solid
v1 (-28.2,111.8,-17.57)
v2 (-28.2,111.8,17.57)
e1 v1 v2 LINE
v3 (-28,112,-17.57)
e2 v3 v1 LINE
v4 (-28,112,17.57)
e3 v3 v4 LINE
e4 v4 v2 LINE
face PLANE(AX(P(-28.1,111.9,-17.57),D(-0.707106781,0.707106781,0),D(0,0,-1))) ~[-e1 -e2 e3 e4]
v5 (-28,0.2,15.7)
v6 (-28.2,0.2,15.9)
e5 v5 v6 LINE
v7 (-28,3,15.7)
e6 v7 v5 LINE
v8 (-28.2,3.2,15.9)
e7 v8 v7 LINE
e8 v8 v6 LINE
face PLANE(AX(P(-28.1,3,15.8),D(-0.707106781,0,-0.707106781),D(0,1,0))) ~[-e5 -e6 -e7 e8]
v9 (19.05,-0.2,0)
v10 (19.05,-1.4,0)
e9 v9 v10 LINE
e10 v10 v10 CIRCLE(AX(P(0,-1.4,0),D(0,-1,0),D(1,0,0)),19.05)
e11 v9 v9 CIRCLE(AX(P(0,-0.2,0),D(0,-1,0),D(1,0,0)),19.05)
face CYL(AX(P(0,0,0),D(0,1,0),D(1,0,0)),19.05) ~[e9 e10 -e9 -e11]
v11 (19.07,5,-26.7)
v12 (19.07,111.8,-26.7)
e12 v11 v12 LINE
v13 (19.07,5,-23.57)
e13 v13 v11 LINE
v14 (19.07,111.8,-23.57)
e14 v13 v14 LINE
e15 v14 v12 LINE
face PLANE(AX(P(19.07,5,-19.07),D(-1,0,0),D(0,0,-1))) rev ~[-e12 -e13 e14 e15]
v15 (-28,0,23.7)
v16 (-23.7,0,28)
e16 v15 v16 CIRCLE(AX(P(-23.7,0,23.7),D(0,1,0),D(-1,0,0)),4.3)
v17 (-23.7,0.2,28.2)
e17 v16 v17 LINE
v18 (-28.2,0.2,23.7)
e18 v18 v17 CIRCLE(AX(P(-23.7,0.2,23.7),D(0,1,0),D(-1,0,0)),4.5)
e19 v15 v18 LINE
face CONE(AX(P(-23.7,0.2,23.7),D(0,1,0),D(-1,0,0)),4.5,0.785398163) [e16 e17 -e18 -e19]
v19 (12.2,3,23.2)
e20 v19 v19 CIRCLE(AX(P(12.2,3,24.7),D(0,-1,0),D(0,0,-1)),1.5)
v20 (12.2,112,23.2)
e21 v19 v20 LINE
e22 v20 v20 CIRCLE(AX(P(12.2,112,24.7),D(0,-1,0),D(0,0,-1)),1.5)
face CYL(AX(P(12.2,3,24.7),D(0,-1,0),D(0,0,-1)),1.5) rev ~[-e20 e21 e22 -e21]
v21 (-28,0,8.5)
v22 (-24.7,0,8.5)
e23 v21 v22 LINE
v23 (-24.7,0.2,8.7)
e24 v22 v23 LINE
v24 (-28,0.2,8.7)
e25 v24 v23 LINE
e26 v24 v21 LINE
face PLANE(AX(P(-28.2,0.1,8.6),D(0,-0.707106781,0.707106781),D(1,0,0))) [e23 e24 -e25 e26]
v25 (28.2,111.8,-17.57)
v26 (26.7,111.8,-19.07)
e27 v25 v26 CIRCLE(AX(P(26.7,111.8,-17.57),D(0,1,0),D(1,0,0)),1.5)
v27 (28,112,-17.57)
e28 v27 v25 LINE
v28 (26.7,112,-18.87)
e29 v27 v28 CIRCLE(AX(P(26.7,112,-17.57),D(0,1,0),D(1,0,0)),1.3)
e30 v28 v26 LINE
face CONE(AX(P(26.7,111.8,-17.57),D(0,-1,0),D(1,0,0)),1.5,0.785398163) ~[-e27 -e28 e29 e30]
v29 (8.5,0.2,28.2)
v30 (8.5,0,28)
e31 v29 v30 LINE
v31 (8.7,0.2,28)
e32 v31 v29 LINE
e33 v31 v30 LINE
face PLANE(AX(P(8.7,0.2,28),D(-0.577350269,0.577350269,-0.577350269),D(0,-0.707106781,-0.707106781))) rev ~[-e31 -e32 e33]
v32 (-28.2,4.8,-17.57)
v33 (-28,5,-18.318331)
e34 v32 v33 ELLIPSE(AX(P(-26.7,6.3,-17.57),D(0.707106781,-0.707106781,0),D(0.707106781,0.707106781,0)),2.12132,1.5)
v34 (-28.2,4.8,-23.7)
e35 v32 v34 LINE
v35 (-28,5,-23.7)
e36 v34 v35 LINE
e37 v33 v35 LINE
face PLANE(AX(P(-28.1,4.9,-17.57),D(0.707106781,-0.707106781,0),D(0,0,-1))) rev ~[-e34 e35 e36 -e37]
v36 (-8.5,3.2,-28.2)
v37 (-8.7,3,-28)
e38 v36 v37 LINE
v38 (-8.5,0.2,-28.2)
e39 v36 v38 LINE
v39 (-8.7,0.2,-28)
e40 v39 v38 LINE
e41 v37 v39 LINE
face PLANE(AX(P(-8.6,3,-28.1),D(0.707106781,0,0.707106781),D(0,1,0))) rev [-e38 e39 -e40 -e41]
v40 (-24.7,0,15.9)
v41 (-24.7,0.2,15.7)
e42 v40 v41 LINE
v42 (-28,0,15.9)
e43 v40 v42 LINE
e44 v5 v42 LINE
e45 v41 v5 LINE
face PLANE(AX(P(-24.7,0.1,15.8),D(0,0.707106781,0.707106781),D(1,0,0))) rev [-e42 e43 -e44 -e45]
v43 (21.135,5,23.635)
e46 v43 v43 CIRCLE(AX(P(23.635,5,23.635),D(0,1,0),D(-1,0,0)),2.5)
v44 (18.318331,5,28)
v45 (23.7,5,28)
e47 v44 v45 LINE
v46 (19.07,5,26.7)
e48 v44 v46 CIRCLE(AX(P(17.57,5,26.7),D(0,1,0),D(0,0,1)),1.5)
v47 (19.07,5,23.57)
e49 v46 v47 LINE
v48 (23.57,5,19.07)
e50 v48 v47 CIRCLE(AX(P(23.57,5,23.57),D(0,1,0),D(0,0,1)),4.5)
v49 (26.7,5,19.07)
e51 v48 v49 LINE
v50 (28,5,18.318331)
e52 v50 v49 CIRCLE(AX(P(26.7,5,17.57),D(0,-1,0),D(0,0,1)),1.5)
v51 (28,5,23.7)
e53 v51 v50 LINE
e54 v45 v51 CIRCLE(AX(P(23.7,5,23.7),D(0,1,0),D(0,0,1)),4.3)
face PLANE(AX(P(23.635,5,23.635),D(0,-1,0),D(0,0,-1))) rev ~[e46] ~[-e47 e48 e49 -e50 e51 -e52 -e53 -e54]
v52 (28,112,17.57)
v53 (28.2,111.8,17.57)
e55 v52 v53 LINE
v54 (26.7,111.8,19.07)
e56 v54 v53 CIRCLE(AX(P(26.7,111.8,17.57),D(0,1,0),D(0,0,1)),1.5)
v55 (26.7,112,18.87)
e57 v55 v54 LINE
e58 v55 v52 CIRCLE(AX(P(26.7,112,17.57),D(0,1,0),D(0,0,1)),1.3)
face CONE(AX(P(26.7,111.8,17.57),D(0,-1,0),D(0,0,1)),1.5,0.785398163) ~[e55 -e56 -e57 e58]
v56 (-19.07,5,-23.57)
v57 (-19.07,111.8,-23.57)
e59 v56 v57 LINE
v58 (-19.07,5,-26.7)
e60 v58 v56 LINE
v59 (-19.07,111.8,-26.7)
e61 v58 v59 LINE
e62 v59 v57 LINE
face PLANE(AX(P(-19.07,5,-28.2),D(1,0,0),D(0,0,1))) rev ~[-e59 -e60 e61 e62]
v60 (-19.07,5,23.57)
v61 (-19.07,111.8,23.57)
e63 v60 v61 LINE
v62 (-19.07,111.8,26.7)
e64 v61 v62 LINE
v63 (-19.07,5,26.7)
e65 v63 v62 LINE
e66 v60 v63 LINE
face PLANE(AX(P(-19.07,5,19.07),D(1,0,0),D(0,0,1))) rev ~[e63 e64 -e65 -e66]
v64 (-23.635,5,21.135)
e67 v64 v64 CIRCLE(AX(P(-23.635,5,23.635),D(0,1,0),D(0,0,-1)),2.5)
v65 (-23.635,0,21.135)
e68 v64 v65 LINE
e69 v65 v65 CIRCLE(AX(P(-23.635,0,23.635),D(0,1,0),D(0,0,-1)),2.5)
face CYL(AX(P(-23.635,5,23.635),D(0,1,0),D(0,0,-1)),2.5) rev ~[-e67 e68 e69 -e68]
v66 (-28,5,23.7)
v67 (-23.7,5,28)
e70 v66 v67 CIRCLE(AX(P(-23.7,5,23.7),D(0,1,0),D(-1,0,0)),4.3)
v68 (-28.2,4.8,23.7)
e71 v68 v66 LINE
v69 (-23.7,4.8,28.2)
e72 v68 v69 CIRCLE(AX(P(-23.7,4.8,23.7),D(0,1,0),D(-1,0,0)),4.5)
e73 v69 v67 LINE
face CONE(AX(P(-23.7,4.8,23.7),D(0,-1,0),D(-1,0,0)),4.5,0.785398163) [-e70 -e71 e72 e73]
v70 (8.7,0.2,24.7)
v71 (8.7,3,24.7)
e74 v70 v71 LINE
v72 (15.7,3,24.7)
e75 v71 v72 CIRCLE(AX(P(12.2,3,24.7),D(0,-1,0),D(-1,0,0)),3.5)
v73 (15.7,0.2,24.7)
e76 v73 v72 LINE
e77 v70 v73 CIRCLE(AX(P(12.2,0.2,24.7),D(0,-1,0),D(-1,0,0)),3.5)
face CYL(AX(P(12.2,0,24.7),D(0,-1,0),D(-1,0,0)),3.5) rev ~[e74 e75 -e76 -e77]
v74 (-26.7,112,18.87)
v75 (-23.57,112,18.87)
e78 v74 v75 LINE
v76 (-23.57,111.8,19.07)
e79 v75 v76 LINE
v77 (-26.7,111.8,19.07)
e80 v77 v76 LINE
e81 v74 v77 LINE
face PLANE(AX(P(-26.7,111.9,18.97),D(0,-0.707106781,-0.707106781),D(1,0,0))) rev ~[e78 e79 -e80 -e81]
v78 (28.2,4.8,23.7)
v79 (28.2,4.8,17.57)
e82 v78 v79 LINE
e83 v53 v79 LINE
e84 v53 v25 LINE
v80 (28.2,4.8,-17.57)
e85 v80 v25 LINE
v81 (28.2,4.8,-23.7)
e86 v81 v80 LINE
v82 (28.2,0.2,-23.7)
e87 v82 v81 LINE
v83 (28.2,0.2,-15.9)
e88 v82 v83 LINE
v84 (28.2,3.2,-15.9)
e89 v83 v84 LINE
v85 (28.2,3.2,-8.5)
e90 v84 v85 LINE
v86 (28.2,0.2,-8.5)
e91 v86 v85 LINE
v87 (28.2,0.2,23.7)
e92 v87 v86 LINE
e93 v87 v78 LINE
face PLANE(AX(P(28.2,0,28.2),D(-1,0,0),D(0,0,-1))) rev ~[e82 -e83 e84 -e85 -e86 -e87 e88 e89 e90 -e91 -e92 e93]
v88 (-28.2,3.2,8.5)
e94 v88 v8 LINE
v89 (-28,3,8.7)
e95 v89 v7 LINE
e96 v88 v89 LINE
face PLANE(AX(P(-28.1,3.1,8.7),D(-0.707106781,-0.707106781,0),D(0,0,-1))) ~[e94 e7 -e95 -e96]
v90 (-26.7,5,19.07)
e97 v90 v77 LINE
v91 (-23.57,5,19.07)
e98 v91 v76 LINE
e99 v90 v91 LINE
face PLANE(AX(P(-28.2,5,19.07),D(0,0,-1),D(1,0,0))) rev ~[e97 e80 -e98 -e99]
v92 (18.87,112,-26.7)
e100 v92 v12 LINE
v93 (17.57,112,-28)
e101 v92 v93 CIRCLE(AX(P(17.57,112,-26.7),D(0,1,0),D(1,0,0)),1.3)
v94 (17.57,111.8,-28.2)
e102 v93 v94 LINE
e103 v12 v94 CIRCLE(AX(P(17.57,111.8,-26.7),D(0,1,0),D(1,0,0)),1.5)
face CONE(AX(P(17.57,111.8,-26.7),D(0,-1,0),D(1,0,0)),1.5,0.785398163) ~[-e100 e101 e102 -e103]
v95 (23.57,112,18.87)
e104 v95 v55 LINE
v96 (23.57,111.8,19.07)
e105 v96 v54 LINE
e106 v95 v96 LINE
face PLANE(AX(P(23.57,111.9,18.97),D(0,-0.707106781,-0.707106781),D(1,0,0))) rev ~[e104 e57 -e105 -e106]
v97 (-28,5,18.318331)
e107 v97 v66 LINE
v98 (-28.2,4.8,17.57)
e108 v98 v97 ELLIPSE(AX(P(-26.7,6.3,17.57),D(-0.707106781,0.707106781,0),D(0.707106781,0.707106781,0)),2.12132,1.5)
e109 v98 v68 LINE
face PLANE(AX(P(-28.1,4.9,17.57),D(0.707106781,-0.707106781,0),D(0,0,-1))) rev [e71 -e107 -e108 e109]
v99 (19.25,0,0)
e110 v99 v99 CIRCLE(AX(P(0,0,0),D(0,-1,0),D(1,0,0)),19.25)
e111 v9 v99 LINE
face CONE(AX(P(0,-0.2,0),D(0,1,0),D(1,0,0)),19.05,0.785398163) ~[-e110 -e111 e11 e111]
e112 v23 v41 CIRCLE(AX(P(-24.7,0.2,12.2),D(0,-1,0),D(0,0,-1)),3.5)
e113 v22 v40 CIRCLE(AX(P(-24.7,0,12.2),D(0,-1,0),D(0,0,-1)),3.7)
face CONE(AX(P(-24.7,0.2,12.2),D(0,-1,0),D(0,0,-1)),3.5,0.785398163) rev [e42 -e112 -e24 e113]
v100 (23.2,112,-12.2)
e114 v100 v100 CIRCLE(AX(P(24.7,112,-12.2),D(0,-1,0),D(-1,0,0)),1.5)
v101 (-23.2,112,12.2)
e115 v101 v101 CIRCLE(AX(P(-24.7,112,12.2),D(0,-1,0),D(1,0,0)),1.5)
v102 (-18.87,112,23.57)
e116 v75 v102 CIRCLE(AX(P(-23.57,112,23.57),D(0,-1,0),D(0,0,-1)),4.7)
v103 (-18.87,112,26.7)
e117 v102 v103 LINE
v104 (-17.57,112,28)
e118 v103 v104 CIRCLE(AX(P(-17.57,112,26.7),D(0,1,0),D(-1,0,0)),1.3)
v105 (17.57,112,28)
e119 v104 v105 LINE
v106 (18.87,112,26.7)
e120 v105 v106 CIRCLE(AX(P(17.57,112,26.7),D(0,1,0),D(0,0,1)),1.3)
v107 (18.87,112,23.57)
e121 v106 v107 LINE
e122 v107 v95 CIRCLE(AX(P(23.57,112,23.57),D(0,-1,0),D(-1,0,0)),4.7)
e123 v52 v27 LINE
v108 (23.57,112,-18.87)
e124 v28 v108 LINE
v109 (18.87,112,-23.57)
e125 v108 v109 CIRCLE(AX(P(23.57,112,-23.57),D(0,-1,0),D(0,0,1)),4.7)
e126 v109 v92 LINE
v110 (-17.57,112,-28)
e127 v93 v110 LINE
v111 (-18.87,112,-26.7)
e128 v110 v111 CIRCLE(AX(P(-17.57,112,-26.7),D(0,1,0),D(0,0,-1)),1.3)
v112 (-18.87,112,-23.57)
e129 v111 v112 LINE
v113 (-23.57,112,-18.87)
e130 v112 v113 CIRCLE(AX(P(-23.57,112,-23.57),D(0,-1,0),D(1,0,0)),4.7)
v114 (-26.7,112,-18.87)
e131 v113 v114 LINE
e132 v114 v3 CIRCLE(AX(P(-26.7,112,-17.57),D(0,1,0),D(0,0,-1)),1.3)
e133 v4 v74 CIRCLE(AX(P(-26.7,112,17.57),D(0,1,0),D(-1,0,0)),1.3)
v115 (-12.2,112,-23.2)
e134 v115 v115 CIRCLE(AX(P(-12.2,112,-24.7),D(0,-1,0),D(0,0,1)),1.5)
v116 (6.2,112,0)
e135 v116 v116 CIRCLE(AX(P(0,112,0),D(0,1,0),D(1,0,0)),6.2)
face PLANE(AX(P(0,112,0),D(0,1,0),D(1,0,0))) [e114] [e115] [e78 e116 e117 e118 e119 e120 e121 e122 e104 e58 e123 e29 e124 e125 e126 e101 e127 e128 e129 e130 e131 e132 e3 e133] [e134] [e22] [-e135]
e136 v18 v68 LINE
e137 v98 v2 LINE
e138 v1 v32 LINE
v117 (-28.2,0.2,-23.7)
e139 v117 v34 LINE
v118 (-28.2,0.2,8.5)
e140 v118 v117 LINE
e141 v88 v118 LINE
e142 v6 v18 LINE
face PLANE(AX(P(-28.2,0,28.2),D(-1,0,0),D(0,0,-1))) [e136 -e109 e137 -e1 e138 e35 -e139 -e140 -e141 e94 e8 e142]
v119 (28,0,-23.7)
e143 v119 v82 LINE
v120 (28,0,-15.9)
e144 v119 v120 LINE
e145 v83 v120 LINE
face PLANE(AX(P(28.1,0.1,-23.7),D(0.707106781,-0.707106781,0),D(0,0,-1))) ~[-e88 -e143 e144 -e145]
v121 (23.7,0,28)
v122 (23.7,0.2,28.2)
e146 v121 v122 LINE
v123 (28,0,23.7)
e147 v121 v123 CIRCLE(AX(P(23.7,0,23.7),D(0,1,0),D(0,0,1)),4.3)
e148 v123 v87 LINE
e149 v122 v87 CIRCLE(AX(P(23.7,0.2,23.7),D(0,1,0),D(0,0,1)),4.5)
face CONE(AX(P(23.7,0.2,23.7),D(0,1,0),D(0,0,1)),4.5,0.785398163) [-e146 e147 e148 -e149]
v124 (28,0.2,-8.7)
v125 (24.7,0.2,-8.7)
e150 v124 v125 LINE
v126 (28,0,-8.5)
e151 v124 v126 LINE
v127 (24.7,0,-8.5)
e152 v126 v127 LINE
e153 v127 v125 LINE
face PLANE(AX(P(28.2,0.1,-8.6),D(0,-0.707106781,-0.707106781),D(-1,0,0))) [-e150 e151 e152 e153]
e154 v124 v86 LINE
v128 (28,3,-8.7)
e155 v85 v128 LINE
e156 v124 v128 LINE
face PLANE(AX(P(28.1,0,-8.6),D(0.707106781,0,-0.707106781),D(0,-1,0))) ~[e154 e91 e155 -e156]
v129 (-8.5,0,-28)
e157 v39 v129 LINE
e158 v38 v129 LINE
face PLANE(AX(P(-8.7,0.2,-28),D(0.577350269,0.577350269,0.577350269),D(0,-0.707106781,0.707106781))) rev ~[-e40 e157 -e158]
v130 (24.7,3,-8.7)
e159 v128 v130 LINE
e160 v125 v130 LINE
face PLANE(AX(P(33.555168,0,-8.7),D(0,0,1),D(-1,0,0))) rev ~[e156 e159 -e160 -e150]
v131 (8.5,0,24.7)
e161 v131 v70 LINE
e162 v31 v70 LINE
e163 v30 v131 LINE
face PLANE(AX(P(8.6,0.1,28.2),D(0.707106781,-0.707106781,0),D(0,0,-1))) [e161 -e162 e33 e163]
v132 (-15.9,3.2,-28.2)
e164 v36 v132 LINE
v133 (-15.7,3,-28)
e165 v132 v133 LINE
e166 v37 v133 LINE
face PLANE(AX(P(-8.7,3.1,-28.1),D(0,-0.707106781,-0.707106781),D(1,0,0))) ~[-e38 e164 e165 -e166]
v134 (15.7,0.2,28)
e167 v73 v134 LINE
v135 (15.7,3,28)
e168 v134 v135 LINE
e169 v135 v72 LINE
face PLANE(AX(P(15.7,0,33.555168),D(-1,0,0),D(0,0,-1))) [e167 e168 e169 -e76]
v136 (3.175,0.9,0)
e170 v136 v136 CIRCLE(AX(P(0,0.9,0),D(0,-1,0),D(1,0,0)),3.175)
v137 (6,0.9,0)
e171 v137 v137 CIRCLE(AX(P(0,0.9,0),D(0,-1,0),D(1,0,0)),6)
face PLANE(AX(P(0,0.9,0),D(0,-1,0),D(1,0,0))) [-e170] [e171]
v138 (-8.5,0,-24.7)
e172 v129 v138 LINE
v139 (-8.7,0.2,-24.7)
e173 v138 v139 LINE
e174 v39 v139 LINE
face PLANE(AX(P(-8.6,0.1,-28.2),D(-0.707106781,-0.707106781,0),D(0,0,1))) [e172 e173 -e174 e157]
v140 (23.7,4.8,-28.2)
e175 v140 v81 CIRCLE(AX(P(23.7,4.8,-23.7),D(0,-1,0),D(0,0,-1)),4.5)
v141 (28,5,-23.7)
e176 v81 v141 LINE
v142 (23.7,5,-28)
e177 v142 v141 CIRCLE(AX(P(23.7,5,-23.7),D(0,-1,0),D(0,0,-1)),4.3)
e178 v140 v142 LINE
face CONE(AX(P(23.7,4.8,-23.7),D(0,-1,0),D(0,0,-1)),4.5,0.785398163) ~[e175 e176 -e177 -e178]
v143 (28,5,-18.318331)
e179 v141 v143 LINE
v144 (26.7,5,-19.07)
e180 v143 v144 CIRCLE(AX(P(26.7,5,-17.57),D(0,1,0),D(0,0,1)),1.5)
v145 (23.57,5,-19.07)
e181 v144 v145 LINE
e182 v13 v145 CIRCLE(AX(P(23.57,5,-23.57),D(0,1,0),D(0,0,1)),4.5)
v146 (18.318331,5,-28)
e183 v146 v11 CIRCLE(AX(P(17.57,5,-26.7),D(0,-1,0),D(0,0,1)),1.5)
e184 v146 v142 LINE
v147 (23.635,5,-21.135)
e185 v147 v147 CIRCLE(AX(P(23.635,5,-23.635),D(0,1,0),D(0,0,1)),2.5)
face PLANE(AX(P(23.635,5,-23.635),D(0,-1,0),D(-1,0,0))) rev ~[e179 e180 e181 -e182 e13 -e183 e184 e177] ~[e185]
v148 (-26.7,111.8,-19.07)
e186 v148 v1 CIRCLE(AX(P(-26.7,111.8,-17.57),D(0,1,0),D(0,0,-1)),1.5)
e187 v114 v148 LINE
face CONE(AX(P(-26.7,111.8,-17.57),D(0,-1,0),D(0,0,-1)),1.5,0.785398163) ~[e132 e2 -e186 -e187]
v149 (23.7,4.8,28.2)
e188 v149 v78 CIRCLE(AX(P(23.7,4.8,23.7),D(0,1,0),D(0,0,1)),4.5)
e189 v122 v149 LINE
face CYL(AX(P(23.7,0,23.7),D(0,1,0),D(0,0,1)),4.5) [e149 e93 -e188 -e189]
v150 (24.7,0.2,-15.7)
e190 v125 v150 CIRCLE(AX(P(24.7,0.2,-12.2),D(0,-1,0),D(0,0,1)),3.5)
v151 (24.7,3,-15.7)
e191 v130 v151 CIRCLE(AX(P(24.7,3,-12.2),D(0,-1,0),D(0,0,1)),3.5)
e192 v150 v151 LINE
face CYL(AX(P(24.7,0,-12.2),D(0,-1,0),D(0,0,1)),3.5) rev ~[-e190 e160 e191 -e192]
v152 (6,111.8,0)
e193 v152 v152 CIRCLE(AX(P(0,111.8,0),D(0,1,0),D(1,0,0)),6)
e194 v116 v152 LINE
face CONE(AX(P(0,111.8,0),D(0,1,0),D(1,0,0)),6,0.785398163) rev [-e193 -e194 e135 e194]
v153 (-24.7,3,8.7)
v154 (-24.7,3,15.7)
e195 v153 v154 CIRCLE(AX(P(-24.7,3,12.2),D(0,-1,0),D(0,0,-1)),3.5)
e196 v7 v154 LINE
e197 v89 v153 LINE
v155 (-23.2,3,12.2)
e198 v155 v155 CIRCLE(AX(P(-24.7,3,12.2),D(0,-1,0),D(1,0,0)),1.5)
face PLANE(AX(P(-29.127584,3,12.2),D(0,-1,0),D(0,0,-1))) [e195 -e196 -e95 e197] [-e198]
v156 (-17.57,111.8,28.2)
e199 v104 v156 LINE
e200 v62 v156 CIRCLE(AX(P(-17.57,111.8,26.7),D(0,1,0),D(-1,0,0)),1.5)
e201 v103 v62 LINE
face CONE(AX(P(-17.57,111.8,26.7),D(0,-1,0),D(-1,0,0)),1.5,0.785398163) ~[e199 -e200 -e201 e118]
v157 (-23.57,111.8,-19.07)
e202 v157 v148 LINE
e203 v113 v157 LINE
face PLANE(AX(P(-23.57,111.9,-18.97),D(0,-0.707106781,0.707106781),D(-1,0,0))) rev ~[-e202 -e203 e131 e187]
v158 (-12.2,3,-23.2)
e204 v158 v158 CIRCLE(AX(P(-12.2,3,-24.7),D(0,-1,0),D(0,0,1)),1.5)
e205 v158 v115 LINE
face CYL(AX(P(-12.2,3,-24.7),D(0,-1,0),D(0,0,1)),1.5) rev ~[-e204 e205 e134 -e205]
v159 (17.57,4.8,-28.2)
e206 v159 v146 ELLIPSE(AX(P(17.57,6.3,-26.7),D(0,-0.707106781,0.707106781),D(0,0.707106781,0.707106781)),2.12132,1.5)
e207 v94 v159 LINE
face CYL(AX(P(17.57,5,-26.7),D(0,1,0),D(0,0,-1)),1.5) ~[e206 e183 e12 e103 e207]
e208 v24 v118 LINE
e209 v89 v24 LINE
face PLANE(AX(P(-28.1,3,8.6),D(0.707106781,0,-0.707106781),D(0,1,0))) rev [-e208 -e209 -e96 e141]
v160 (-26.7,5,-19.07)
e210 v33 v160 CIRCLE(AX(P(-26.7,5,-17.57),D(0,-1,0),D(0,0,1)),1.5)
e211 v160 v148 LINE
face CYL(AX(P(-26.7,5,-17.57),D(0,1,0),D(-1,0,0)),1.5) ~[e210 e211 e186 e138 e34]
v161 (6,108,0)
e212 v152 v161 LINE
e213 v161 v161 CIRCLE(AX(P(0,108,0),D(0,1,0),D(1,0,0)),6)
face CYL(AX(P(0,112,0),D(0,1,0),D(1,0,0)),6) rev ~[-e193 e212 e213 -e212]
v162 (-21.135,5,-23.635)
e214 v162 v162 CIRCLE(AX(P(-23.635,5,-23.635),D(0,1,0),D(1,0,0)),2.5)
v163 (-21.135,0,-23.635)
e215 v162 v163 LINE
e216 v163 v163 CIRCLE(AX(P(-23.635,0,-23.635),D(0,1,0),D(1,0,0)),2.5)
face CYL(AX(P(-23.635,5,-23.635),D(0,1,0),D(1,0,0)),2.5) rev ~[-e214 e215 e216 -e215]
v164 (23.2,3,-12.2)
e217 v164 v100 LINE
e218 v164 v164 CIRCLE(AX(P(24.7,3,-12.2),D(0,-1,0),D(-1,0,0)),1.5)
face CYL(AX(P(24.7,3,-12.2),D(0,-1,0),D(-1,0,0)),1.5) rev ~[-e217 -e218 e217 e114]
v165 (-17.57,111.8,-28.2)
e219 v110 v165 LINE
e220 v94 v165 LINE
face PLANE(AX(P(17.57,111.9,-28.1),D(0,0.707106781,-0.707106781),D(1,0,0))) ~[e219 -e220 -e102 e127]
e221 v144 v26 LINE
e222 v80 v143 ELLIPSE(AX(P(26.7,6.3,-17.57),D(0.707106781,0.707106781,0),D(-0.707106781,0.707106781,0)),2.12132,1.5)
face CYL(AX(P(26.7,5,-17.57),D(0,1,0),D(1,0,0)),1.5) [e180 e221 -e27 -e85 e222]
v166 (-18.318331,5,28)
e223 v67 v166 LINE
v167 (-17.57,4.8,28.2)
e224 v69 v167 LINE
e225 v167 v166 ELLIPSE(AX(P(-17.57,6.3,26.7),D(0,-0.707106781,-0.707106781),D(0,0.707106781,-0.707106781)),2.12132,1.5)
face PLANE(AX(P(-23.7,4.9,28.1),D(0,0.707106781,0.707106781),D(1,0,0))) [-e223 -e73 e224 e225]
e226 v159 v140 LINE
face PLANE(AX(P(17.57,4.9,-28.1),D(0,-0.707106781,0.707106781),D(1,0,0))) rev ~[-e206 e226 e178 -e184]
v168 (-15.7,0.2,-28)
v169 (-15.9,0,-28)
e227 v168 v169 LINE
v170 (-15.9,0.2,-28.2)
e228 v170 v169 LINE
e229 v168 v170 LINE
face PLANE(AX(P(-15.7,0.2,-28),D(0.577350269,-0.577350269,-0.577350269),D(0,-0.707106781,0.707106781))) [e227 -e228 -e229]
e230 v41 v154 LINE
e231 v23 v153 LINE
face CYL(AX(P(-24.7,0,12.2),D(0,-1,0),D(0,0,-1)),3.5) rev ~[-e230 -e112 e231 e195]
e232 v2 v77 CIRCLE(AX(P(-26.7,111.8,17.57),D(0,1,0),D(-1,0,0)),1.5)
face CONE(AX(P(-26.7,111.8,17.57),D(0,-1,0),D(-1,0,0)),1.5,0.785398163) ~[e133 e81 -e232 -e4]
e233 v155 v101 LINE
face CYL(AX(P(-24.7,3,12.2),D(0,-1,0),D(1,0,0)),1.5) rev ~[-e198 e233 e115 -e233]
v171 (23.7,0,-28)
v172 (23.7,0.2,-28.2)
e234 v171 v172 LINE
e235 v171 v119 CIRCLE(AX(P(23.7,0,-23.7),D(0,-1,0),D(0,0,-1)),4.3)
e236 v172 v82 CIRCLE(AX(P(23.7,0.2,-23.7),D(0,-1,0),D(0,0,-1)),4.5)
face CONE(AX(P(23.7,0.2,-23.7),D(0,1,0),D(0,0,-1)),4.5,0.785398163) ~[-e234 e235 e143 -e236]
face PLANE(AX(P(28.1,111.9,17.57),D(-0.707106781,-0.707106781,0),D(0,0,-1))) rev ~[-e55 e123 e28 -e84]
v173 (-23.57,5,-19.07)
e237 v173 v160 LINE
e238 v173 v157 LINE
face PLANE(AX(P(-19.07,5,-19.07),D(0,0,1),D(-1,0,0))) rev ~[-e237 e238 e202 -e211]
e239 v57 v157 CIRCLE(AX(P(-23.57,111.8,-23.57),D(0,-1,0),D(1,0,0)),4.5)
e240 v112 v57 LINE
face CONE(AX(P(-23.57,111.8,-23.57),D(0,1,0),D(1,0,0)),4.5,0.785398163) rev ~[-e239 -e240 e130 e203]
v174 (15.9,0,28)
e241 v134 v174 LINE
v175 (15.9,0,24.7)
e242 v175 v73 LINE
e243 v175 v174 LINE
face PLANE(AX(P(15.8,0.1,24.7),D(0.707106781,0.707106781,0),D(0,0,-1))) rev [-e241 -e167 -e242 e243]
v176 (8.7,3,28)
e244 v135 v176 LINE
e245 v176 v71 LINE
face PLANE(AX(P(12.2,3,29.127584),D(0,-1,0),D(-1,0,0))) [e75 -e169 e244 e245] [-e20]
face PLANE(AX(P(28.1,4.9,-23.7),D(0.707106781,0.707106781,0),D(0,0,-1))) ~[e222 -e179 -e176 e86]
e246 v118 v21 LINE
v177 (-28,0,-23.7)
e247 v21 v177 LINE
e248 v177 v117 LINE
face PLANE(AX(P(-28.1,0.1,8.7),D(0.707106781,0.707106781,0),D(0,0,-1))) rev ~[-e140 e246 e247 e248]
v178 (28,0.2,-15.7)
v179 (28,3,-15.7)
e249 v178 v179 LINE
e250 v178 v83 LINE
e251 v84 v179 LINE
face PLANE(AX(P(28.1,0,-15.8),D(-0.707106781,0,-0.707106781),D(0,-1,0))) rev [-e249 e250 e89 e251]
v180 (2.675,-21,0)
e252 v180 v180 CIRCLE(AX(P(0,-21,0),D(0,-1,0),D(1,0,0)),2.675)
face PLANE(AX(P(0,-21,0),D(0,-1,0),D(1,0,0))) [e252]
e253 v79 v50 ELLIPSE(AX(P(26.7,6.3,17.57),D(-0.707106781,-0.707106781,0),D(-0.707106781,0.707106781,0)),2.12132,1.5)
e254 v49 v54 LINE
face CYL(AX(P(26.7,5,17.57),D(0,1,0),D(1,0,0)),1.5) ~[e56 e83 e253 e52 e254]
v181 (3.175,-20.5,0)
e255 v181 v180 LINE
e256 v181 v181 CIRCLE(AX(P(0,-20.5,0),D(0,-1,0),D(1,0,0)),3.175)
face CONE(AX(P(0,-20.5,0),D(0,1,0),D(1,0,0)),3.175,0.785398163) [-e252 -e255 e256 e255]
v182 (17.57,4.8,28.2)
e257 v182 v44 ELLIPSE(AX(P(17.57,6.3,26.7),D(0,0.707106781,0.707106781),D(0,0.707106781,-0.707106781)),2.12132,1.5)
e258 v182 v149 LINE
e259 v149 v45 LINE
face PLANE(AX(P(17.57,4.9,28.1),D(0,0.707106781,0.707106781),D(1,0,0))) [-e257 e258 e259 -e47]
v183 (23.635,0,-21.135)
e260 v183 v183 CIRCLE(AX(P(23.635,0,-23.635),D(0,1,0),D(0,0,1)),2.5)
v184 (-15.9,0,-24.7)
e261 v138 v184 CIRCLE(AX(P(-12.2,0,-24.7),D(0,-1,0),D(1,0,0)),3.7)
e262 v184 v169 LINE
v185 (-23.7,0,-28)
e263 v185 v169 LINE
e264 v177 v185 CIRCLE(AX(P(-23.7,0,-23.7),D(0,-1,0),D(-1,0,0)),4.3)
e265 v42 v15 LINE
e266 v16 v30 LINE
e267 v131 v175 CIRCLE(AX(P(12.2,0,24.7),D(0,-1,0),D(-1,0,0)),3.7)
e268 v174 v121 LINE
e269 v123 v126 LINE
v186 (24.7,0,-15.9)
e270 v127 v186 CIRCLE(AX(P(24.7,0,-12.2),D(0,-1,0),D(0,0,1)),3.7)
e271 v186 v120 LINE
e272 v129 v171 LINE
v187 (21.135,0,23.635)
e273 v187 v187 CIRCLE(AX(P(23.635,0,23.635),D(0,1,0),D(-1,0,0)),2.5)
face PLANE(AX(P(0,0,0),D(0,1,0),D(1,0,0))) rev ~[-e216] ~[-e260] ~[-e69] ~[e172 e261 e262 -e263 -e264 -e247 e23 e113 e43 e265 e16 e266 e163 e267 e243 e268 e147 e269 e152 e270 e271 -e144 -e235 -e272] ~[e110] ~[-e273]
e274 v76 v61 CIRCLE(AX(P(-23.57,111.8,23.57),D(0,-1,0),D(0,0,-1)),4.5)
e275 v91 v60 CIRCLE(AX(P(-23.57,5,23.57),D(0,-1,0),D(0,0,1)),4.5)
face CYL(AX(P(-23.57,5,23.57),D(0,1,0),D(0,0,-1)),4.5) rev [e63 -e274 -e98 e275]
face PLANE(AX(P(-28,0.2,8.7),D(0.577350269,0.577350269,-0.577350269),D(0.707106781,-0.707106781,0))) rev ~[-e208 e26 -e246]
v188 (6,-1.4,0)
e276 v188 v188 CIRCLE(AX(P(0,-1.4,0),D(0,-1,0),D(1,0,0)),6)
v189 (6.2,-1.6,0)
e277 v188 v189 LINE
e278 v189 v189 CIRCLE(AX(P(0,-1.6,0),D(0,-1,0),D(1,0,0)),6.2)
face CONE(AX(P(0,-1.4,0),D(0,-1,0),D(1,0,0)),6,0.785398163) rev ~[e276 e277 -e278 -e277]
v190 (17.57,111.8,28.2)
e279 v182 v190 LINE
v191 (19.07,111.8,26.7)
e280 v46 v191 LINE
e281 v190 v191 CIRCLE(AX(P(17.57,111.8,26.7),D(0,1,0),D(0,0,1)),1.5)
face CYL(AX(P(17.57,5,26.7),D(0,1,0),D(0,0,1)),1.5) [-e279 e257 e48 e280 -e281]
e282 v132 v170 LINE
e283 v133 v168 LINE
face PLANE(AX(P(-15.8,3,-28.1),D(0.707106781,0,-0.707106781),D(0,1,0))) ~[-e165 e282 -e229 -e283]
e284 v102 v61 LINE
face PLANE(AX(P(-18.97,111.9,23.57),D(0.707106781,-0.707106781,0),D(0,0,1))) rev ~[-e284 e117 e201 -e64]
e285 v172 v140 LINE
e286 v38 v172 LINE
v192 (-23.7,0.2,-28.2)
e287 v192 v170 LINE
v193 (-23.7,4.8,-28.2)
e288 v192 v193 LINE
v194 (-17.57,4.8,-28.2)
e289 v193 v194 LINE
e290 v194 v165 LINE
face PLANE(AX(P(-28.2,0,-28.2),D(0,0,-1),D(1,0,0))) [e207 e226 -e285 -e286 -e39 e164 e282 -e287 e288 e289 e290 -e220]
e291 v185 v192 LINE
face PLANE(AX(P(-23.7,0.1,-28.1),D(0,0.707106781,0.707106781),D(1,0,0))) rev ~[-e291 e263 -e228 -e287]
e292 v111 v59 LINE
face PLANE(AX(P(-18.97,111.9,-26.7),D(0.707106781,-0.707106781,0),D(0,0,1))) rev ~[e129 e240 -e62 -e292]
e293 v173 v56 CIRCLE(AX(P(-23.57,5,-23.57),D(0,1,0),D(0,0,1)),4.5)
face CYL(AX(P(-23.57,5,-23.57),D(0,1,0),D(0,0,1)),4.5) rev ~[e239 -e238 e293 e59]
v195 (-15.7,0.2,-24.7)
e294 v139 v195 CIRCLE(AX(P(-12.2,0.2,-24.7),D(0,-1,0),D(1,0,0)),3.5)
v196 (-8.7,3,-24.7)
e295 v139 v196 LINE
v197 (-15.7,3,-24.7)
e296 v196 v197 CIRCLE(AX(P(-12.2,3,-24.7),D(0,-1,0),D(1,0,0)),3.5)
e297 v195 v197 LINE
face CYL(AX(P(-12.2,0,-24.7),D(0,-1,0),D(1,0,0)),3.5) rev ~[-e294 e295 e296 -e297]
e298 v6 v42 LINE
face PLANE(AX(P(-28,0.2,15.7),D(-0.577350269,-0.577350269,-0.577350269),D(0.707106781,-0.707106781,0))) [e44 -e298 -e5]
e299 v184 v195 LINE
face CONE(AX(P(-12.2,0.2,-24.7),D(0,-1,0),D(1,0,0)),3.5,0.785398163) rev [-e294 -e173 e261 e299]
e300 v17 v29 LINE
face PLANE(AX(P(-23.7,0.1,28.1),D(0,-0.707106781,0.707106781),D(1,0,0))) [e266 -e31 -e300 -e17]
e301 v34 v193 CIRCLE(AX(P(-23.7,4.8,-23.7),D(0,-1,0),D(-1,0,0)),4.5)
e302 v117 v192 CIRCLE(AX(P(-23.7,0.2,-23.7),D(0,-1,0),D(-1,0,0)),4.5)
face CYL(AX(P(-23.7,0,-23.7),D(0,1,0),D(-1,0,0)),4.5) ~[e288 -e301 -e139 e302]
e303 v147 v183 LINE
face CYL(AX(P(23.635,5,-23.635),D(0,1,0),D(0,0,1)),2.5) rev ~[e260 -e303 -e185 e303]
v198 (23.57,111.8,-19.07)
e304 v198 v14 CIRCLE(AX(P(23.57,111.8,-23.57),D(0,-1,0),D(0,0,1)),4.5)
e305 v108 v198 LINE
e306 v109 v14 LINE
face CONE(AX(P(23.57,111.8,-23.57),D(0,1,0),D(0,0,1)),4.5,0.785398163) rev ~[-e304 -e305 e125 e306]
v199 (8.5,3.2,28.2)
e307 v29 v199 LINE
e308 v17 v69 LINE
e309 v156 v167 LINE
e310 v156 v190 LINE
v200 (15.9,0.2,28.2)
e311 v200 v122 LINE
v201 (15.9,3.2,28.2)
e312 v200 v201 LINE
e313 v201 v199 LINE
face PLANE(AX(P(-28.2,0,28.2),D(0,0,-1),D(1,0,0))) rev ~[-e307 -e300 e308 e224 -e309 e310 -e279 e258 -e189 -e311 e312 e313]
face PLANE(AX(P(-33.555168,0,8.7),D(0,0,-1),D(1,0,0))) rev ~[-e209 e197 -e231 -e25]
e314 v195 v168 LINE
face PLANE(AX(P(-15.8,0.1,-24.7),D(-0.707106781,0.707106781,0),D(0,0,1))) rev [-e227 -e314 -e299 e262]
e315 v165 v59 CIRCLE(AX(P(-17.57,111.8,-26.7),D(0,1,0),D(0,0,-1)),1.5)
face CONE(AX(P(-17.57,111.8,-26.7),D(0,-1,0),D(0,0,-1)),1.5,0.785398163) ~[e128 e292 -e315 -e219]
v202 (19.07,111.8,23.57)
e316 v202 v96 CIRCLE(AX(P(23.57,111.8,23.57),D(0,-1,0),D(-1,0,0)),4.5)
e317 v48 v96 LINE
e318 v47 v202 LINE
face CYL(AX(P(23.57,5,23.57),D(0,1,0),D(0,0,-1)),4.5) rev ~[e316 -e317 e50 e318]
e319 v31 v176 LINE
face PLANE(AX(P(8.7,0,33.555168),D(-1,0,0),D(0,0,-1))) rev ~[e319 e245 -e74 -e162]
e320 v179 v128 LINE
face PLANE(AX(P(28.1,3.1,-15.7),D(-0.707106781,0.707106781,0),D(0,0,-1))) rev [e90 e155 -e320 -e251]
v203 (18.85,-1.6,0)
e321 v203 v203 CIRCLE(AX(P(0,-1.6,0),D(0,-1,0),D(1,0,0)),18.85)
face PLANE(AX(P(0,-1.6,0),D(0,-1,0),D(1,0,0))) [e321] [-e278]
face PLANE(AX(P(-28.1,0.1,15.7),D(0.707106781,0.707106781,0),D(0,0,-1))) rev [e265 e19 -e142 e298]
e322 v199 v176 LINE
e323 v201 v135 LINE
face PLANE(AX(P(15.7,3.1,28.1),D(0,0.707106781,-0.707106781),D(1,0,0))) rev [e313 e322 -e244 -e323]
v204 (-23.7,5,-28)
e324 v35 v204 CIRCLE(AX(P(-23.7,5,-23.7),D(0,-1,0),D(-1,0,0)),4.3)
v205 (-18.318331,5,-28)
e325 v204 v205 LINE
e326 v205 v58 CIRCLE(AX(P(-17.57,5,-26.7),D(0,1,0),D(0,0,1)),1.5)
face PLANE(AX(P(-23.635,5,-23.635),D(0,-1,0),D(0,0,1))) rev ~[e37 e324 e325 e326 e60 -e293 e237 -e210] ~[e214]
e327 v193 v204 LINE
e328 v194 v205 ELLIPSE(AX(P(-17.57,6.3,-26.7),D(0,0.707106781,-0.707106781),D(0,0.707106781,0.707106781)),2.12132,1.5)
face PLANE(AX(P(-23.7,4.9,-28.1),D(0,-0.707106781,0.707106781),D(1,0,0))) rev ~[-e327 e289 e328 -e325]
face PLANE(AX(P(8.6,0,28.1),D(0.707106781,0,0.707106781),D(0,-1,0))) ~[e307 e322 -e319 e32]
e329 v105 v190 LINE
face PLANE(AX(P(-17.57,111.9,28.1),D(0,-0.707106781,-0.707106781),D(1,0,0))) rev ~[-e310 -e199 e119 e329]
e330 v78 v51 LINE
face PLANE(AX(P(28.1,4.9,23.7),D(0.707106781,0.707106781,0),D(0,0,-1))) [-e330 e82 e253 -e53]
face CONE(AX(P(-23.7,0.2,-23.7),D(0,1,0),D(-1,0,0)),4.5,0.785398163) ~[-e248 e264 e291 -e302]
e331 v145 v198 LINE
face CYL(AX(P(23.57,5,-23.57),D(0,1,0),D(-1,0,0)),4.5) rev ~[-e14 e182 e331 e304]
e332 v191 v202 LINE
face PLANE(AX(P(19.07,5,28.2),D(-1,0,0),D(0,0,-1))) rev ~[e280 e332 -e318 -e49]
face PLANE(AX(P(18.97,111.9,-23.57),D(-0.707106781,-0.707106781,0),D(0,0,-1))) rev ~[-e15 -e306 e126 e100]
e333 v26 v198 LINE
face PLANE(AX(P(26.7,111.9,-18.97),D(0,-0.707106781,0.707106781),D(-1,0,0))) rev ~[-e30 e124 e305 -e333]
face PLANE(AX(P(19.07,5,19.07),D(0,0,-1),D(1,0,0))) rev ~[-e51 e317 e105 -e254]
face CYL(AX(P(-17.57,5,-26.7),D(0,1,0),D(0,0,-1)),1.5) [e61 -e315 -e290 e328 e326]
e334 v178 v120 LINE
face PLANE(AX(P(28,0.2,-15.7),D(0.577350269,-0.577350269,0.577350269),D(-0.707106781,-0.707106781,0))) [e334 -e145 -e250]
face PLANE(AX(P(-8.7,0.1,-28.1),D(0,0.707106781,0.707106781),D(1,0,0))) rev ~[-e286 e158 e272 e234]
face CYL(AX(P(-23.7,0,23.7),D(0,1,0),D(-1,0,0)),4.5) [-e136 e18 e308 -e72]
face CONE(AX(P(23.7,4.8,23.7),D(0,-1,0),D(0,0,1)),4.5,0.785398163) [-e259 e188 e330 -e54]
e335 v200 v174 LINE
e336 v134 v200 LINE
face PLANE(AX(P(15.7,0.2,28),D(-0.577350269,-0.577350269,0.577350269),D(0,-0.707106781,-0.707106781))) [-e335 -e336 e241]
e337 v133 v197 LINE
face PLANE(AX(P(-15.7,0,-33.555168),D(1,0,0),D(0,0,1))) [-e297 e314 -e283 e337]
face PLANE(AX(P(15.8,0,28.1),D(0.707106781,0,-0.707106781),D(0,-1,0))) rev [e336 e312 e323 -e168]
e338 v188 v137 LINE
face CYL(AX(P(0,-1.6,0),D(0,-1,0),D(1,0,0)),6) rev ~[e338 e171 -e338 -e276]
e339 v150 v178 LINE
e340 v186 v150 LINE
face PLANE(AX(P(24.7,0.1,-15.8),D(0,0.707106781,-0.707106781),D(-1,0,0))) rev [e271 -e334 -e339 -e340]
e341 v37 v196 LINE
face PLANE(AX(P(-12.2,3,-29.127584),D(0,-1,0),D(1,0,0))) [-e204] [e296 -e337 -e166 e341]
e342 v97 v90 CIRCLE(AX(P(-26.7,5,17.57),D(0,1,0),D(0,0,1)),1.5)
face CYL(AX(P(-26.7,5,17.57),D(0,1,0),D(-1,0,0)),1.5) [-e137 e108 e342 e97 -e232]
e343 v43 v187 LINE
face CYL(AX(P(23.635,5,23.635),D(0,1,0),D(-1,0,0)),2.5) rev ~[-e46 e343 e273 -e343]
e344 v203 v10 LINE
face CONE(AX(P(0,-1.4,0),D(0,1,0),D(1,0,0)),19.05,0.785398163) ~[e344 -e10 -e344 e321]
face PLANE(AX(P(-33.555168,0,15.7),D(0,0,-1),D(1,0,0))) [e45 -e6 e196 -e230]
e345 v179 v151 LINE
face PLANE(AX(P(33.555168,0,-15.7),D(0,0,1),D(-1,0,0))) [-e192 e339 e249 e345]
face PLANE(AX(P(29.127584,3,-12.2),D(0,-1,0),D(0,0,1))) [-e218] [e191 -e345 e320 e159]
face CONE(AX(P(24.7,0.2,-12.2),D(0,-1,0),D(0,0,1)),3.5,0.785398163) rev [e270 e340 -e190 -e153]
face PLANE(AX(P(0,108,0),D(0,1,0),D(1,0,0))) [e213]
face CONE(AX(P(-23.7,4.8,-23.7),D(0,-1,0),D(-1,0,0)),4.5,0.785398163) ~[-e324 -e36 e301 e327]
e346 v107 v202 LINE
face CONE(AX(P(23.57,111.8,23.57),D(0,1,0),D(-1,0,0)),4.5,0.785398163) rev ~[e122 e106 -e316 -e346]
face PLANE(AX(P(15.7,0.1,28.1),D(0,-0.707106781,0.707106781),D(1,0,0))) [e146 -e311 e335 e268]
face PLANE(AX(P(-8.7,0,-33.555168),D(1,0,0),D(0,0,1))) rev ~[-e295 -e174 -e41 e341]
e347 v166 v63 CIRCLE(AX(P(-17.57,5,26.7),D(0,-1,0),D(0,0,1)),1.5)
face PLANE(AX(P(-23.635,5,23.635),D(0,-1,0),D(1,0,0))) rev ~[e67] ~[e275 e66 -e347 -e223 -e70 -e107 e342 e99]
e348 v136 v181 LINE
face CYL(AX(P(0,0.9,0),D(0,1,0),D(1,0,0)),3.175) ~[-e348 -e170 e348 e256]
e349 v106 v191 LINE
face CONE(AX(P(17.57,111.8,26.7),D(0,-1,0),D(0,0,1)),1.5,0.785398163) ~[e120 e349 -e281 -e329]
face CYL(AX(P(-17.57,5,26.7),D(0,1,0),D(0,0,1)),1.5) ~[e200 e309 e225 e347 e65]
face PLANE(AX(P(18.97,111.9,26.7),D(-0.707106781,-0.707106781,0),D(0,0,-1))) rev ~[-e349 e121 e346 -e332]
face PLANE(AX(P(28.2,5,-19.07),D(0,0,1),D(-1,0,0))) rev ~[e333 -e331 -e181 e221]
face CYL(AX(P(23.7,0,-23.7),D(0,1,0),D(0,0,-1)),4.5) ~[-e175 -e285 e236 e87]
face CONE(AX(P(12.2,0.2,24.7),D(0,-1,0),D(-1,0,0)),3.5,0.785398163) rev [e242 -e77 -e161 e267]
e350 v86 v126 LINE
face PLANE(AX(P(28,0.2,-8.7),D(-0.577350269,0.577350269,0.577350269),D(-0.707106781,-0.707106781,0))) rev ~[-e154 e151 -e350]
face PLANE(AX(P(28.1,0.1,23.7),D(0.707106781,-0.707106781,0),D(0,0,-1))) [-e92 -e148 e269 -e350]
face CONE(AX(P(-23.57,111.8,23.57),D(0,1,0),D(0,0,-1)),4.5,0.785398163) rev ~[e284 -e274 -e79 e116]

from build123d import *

# Parameters (mm, degrees)
SKETCH_R              = 19.05
PAD_DEPTH             = 1.6
SKETCH001_W           = 56.4
SKETCH001_H           = 56.4
PAD001_DEPTH          = 112
SKETCH002_R           = 6
POCKET_DEPTH          = 2.5
SKETCH003_R           = 3.175
PAD002_DEPTH          = 21.9
SKETCH004_R           = 6
POCKET001_DEPTH       = 4
SKETCH005_W           = 9.13
SKETCH005_H           = 9.13
POCKET002_DEPTH       = 1000
POLARPATTERN_COUNT    = 4
SKETCH006_R           = 2.5
POCKET003_DEPTH       = 5
POLARPATTERN001_COUNT = 4
POCKET004_DEPTH       = 3
POLARPATTERN002_COUNT = 4
FILLET_R              = 4.5
FILLET001_R           = 1.5
SKETCH008_R           = 1.5
POCKET005_DEPTH       = 1000
POLARPATTERN003_COUNT = 4
CHAMFER_SIZE          = 0.5
CHAMFER001_SIZE       = 0.2


with BuildPart() as part:
    # Sketch → Pad (new body)
    with BuildSketch(Plane.XZ):
        Circle(SKETCH_R)
    extrude(amount=PAD_DEPTH)

    # Sketch001 (on Face2 of Pad) → Pad001 (join)
    with BuildSketch(Plane(origin=(0, 0, 0), x_dir=(1, 0, 0), z_dir=(0, 1, 0))):
        Rectangle(SKETCH001_W, SKETCH001_H)
    extrude(amount=PAD001_DEPTH)

    # Sketch002 (on Face8 of Pad001) → Pocket (cut)
    with BuildSketch(Plane.XZ.offset(1.6)):
        Circle(SKETCH002_R)
    extrude(amount=-POCKET_DEPTH, mode=Mode.SUBTRACT)

    # Sketch003 (on Face10 of Pocket) → Pad002 (join)
    with BuildSketch(Plane.XZ.offset(-0.9)):
        Circle(SKETCH003_R)
    extrude(amount=PAD002_DEPTH)

    # Sketch004 (on Face5 of Pad002) → Pocket001 (cut)
    with BuildSketch(Plane(origin=(0, 112, 0), x_dir=(1, 0, 0), z_dir=(0, 1, 0))):
        Circle(SKETCH004_R)
    extrude(amount=-POCKET001_DEPTH, mode=Mode.SUBTRACT)

    # Sketch005 (on DatumPlane) → Pocket002 (cut)
    with BuildSketch(Plane.XZ.offset(-5)):
        with Locations((-23.635, 23.635)):
            Rectangle(SKETCH005_W, SKETCH005_H)
    pocket002 = extrude(amount=-POCKET002_DEPTH, mode=Mode.SUBTRACT)

    # PolarPattern: Pocket002 ×4 about axis
    polarpattern_axis = Axis((0, 5, 0), (0, -1, 0))
    for i in range(1, POLARPATTERN_COUNT):
        add(pocket002.rotate(polarpattern_axis, i * 360 / POLARPATTERN_COUNT), mode=Mode.SUBTRACT)

    # Sketch006 (on Face12 of PolarPattern) → Pocket003 (cut)
    with BuildSketch(Plane(origin=(0, 5, 0), x_dir=(1, 0, 0), z_dir=(0, 1, 0))):
        with Locations((-23.635, 23.635)):
            Circle(SKETCH006_R)
    pocket003 = extrude(amount=-POCKET003_DEPTH, mode=Mode.SUBTRACT)

    # PolarPattern001: Pocket003 ×4 about axis
    polarpattern001_axis = Axis((0, 5, 0), (0, 1, 0))
    for i in range(1, POLARPATTERN001_COUNT):
        add(pocket003.rotate(polarpattern001_axis, i * 360 / POLARPATTERN001_COUNT), mode=Mode.SUBTRACT)

    # Sketch007 (on Face2 of Pocket003) → Pocket004 (cut)
    with BuildSketch(Plane.XZ):
        with BuildLine():
            ThreePointArc((-15.7, -33.555168), (-12.2, -37.055168), (-8.7, -33.555168))
            Line((-8.7, -33.555168), (-8.7, -24.7))
            ThreePointArc((-8.7, -24.7), (-12.2, -21.2), (-15.7, -24.7))
            Line((-15.7, -33.555168), (-15.7, -24.7))
        make_face()
    pocket004 = extrude(amount=-POCKET004_DEPTH, mode=Mode.SUBTRACT)

    # PolarPattern002: Pocket004 ×4 about axis
    polarpattern002_axis = Axis((0, 0, 0), (0, -1, 0))
    for i in range(1, POLARPATTERN002_COUNT):
        add(pocket004.rotate(polarpattern002_axis, i * 360 / POLARPATTERN002_COUNT), mode=Mode.SUBTRACT)

    # Fillet
    fillet_edges = [part.edges().sort_by_distance(p)[0] for p in [
        (-19.07, 58.5, -19.07),
        (-28.2, 2.5, -28.2),
        (-19.07, 58.5, 19.07),
        (-28.2, 2.5, 28.2),
        (19.07, 58.5, 19.07),
        (28.2, 2.5, 28.2),
        (19.07, 58.5, -19.07),
        (28.2, 2.5, -28.2),
    ]]
    fillet(fillet_edges, radius=FILLET_R)

    # Fillet001
    fillet001_edges = [part.edges().sort_by_distance(p)[0] for p in [
        (28.2, 58.5, 19.07),
        (19.07, 58.5, 28.2),
        (-19.07, 58.5, 28.2),
        (-28.2, 58.5, 19.07),
        (-28.2, 58.5, -19.07),
        (-19.07, 58.5, -28.2),
        (28.2, 58.5, -19.07),
        (19.07, 58.5, -28.2),
    ]]
    fillet(fillet001_edges, radius=FILLET001_R)

    # Sketch008 (on Face12 of Fillet001) → Pocket005 (cut)
    with BuildSketch(Plane.XZ.offset(-3)):
        with Locations((-24.7, 12.2)):
            Circle(SKETCH008_R)
    pocket005 = extrude(amount=-POCKET005_DEPTH, mode=Mode.SUBTRACT)

    # PolarPattern003: Pocket005 ×4 about axis
    polarpattern003_axis = Axis((0, 3, 0), (0, -1, 0))
    for i in range(1, POLARPATTERN003_COUNT):
        add(pocket005.rotate(polarpattern003_axis, i * 360 / POLARPATTERN003_COUNT), mode=Mode.SUBTRACT)

    # Chamfer
    chamfer_edges = [part.edges().sort_by_distance(p)[0] for p in [
        (-3.175, -21, 0),
    ]]
    chamfer(chamfer_edges, length=CHAMFER_SIZE)

    # Chamfer001
    chamfer001_edges = [part.edges().sort_by_distance(p)[0] for p in [
        (-26.881981, 0, 26.881981),
        (-28.2, 0, -7.5),
        (7.5, 0, -28.2),
        (28.2, 0, 7.5),
        (-19.05, 0, 0),
        (-19.05, -1.6, 0),
        (-6, -1.6, 0),
        (-28.2, 1.5, 8.7),
        (-28.2, 3, 12.2),
        (-28.2, 1.5, 15.7),
        (-15.7, 1.5, -28.2),
        (-12.2, 3, -28.2),
        (-8.7, 1.5, -28.2),
        (28.2, 1.5, -15.7),
        (28.2, 3, -12.2),
        (28.2, 1.5, -8.7),
        (15.7, 1.5, 28.2),
        (12.2, 3, 28.2),
        (8.7, 1.5, 28.2),
        (-21.2, 0, 12.2),
        (-12.2, 0, -21.2),
        (21.2, 0, -12.2),
        (12.2, 0, 21.2),
        (-20.388019, 112, 20.388019),
        (-26.881981, 5, 26.881981),
        (26.881981, 5, 26.881981),
        (-26.881981, 5, -26.881981),
        (26.881981, 5, -26.881981),
        (-6, 112, 0),
    ]]
    chamfer(chamfer001_edges, length=CHAMFER001_SIZE)


solid = part.part
